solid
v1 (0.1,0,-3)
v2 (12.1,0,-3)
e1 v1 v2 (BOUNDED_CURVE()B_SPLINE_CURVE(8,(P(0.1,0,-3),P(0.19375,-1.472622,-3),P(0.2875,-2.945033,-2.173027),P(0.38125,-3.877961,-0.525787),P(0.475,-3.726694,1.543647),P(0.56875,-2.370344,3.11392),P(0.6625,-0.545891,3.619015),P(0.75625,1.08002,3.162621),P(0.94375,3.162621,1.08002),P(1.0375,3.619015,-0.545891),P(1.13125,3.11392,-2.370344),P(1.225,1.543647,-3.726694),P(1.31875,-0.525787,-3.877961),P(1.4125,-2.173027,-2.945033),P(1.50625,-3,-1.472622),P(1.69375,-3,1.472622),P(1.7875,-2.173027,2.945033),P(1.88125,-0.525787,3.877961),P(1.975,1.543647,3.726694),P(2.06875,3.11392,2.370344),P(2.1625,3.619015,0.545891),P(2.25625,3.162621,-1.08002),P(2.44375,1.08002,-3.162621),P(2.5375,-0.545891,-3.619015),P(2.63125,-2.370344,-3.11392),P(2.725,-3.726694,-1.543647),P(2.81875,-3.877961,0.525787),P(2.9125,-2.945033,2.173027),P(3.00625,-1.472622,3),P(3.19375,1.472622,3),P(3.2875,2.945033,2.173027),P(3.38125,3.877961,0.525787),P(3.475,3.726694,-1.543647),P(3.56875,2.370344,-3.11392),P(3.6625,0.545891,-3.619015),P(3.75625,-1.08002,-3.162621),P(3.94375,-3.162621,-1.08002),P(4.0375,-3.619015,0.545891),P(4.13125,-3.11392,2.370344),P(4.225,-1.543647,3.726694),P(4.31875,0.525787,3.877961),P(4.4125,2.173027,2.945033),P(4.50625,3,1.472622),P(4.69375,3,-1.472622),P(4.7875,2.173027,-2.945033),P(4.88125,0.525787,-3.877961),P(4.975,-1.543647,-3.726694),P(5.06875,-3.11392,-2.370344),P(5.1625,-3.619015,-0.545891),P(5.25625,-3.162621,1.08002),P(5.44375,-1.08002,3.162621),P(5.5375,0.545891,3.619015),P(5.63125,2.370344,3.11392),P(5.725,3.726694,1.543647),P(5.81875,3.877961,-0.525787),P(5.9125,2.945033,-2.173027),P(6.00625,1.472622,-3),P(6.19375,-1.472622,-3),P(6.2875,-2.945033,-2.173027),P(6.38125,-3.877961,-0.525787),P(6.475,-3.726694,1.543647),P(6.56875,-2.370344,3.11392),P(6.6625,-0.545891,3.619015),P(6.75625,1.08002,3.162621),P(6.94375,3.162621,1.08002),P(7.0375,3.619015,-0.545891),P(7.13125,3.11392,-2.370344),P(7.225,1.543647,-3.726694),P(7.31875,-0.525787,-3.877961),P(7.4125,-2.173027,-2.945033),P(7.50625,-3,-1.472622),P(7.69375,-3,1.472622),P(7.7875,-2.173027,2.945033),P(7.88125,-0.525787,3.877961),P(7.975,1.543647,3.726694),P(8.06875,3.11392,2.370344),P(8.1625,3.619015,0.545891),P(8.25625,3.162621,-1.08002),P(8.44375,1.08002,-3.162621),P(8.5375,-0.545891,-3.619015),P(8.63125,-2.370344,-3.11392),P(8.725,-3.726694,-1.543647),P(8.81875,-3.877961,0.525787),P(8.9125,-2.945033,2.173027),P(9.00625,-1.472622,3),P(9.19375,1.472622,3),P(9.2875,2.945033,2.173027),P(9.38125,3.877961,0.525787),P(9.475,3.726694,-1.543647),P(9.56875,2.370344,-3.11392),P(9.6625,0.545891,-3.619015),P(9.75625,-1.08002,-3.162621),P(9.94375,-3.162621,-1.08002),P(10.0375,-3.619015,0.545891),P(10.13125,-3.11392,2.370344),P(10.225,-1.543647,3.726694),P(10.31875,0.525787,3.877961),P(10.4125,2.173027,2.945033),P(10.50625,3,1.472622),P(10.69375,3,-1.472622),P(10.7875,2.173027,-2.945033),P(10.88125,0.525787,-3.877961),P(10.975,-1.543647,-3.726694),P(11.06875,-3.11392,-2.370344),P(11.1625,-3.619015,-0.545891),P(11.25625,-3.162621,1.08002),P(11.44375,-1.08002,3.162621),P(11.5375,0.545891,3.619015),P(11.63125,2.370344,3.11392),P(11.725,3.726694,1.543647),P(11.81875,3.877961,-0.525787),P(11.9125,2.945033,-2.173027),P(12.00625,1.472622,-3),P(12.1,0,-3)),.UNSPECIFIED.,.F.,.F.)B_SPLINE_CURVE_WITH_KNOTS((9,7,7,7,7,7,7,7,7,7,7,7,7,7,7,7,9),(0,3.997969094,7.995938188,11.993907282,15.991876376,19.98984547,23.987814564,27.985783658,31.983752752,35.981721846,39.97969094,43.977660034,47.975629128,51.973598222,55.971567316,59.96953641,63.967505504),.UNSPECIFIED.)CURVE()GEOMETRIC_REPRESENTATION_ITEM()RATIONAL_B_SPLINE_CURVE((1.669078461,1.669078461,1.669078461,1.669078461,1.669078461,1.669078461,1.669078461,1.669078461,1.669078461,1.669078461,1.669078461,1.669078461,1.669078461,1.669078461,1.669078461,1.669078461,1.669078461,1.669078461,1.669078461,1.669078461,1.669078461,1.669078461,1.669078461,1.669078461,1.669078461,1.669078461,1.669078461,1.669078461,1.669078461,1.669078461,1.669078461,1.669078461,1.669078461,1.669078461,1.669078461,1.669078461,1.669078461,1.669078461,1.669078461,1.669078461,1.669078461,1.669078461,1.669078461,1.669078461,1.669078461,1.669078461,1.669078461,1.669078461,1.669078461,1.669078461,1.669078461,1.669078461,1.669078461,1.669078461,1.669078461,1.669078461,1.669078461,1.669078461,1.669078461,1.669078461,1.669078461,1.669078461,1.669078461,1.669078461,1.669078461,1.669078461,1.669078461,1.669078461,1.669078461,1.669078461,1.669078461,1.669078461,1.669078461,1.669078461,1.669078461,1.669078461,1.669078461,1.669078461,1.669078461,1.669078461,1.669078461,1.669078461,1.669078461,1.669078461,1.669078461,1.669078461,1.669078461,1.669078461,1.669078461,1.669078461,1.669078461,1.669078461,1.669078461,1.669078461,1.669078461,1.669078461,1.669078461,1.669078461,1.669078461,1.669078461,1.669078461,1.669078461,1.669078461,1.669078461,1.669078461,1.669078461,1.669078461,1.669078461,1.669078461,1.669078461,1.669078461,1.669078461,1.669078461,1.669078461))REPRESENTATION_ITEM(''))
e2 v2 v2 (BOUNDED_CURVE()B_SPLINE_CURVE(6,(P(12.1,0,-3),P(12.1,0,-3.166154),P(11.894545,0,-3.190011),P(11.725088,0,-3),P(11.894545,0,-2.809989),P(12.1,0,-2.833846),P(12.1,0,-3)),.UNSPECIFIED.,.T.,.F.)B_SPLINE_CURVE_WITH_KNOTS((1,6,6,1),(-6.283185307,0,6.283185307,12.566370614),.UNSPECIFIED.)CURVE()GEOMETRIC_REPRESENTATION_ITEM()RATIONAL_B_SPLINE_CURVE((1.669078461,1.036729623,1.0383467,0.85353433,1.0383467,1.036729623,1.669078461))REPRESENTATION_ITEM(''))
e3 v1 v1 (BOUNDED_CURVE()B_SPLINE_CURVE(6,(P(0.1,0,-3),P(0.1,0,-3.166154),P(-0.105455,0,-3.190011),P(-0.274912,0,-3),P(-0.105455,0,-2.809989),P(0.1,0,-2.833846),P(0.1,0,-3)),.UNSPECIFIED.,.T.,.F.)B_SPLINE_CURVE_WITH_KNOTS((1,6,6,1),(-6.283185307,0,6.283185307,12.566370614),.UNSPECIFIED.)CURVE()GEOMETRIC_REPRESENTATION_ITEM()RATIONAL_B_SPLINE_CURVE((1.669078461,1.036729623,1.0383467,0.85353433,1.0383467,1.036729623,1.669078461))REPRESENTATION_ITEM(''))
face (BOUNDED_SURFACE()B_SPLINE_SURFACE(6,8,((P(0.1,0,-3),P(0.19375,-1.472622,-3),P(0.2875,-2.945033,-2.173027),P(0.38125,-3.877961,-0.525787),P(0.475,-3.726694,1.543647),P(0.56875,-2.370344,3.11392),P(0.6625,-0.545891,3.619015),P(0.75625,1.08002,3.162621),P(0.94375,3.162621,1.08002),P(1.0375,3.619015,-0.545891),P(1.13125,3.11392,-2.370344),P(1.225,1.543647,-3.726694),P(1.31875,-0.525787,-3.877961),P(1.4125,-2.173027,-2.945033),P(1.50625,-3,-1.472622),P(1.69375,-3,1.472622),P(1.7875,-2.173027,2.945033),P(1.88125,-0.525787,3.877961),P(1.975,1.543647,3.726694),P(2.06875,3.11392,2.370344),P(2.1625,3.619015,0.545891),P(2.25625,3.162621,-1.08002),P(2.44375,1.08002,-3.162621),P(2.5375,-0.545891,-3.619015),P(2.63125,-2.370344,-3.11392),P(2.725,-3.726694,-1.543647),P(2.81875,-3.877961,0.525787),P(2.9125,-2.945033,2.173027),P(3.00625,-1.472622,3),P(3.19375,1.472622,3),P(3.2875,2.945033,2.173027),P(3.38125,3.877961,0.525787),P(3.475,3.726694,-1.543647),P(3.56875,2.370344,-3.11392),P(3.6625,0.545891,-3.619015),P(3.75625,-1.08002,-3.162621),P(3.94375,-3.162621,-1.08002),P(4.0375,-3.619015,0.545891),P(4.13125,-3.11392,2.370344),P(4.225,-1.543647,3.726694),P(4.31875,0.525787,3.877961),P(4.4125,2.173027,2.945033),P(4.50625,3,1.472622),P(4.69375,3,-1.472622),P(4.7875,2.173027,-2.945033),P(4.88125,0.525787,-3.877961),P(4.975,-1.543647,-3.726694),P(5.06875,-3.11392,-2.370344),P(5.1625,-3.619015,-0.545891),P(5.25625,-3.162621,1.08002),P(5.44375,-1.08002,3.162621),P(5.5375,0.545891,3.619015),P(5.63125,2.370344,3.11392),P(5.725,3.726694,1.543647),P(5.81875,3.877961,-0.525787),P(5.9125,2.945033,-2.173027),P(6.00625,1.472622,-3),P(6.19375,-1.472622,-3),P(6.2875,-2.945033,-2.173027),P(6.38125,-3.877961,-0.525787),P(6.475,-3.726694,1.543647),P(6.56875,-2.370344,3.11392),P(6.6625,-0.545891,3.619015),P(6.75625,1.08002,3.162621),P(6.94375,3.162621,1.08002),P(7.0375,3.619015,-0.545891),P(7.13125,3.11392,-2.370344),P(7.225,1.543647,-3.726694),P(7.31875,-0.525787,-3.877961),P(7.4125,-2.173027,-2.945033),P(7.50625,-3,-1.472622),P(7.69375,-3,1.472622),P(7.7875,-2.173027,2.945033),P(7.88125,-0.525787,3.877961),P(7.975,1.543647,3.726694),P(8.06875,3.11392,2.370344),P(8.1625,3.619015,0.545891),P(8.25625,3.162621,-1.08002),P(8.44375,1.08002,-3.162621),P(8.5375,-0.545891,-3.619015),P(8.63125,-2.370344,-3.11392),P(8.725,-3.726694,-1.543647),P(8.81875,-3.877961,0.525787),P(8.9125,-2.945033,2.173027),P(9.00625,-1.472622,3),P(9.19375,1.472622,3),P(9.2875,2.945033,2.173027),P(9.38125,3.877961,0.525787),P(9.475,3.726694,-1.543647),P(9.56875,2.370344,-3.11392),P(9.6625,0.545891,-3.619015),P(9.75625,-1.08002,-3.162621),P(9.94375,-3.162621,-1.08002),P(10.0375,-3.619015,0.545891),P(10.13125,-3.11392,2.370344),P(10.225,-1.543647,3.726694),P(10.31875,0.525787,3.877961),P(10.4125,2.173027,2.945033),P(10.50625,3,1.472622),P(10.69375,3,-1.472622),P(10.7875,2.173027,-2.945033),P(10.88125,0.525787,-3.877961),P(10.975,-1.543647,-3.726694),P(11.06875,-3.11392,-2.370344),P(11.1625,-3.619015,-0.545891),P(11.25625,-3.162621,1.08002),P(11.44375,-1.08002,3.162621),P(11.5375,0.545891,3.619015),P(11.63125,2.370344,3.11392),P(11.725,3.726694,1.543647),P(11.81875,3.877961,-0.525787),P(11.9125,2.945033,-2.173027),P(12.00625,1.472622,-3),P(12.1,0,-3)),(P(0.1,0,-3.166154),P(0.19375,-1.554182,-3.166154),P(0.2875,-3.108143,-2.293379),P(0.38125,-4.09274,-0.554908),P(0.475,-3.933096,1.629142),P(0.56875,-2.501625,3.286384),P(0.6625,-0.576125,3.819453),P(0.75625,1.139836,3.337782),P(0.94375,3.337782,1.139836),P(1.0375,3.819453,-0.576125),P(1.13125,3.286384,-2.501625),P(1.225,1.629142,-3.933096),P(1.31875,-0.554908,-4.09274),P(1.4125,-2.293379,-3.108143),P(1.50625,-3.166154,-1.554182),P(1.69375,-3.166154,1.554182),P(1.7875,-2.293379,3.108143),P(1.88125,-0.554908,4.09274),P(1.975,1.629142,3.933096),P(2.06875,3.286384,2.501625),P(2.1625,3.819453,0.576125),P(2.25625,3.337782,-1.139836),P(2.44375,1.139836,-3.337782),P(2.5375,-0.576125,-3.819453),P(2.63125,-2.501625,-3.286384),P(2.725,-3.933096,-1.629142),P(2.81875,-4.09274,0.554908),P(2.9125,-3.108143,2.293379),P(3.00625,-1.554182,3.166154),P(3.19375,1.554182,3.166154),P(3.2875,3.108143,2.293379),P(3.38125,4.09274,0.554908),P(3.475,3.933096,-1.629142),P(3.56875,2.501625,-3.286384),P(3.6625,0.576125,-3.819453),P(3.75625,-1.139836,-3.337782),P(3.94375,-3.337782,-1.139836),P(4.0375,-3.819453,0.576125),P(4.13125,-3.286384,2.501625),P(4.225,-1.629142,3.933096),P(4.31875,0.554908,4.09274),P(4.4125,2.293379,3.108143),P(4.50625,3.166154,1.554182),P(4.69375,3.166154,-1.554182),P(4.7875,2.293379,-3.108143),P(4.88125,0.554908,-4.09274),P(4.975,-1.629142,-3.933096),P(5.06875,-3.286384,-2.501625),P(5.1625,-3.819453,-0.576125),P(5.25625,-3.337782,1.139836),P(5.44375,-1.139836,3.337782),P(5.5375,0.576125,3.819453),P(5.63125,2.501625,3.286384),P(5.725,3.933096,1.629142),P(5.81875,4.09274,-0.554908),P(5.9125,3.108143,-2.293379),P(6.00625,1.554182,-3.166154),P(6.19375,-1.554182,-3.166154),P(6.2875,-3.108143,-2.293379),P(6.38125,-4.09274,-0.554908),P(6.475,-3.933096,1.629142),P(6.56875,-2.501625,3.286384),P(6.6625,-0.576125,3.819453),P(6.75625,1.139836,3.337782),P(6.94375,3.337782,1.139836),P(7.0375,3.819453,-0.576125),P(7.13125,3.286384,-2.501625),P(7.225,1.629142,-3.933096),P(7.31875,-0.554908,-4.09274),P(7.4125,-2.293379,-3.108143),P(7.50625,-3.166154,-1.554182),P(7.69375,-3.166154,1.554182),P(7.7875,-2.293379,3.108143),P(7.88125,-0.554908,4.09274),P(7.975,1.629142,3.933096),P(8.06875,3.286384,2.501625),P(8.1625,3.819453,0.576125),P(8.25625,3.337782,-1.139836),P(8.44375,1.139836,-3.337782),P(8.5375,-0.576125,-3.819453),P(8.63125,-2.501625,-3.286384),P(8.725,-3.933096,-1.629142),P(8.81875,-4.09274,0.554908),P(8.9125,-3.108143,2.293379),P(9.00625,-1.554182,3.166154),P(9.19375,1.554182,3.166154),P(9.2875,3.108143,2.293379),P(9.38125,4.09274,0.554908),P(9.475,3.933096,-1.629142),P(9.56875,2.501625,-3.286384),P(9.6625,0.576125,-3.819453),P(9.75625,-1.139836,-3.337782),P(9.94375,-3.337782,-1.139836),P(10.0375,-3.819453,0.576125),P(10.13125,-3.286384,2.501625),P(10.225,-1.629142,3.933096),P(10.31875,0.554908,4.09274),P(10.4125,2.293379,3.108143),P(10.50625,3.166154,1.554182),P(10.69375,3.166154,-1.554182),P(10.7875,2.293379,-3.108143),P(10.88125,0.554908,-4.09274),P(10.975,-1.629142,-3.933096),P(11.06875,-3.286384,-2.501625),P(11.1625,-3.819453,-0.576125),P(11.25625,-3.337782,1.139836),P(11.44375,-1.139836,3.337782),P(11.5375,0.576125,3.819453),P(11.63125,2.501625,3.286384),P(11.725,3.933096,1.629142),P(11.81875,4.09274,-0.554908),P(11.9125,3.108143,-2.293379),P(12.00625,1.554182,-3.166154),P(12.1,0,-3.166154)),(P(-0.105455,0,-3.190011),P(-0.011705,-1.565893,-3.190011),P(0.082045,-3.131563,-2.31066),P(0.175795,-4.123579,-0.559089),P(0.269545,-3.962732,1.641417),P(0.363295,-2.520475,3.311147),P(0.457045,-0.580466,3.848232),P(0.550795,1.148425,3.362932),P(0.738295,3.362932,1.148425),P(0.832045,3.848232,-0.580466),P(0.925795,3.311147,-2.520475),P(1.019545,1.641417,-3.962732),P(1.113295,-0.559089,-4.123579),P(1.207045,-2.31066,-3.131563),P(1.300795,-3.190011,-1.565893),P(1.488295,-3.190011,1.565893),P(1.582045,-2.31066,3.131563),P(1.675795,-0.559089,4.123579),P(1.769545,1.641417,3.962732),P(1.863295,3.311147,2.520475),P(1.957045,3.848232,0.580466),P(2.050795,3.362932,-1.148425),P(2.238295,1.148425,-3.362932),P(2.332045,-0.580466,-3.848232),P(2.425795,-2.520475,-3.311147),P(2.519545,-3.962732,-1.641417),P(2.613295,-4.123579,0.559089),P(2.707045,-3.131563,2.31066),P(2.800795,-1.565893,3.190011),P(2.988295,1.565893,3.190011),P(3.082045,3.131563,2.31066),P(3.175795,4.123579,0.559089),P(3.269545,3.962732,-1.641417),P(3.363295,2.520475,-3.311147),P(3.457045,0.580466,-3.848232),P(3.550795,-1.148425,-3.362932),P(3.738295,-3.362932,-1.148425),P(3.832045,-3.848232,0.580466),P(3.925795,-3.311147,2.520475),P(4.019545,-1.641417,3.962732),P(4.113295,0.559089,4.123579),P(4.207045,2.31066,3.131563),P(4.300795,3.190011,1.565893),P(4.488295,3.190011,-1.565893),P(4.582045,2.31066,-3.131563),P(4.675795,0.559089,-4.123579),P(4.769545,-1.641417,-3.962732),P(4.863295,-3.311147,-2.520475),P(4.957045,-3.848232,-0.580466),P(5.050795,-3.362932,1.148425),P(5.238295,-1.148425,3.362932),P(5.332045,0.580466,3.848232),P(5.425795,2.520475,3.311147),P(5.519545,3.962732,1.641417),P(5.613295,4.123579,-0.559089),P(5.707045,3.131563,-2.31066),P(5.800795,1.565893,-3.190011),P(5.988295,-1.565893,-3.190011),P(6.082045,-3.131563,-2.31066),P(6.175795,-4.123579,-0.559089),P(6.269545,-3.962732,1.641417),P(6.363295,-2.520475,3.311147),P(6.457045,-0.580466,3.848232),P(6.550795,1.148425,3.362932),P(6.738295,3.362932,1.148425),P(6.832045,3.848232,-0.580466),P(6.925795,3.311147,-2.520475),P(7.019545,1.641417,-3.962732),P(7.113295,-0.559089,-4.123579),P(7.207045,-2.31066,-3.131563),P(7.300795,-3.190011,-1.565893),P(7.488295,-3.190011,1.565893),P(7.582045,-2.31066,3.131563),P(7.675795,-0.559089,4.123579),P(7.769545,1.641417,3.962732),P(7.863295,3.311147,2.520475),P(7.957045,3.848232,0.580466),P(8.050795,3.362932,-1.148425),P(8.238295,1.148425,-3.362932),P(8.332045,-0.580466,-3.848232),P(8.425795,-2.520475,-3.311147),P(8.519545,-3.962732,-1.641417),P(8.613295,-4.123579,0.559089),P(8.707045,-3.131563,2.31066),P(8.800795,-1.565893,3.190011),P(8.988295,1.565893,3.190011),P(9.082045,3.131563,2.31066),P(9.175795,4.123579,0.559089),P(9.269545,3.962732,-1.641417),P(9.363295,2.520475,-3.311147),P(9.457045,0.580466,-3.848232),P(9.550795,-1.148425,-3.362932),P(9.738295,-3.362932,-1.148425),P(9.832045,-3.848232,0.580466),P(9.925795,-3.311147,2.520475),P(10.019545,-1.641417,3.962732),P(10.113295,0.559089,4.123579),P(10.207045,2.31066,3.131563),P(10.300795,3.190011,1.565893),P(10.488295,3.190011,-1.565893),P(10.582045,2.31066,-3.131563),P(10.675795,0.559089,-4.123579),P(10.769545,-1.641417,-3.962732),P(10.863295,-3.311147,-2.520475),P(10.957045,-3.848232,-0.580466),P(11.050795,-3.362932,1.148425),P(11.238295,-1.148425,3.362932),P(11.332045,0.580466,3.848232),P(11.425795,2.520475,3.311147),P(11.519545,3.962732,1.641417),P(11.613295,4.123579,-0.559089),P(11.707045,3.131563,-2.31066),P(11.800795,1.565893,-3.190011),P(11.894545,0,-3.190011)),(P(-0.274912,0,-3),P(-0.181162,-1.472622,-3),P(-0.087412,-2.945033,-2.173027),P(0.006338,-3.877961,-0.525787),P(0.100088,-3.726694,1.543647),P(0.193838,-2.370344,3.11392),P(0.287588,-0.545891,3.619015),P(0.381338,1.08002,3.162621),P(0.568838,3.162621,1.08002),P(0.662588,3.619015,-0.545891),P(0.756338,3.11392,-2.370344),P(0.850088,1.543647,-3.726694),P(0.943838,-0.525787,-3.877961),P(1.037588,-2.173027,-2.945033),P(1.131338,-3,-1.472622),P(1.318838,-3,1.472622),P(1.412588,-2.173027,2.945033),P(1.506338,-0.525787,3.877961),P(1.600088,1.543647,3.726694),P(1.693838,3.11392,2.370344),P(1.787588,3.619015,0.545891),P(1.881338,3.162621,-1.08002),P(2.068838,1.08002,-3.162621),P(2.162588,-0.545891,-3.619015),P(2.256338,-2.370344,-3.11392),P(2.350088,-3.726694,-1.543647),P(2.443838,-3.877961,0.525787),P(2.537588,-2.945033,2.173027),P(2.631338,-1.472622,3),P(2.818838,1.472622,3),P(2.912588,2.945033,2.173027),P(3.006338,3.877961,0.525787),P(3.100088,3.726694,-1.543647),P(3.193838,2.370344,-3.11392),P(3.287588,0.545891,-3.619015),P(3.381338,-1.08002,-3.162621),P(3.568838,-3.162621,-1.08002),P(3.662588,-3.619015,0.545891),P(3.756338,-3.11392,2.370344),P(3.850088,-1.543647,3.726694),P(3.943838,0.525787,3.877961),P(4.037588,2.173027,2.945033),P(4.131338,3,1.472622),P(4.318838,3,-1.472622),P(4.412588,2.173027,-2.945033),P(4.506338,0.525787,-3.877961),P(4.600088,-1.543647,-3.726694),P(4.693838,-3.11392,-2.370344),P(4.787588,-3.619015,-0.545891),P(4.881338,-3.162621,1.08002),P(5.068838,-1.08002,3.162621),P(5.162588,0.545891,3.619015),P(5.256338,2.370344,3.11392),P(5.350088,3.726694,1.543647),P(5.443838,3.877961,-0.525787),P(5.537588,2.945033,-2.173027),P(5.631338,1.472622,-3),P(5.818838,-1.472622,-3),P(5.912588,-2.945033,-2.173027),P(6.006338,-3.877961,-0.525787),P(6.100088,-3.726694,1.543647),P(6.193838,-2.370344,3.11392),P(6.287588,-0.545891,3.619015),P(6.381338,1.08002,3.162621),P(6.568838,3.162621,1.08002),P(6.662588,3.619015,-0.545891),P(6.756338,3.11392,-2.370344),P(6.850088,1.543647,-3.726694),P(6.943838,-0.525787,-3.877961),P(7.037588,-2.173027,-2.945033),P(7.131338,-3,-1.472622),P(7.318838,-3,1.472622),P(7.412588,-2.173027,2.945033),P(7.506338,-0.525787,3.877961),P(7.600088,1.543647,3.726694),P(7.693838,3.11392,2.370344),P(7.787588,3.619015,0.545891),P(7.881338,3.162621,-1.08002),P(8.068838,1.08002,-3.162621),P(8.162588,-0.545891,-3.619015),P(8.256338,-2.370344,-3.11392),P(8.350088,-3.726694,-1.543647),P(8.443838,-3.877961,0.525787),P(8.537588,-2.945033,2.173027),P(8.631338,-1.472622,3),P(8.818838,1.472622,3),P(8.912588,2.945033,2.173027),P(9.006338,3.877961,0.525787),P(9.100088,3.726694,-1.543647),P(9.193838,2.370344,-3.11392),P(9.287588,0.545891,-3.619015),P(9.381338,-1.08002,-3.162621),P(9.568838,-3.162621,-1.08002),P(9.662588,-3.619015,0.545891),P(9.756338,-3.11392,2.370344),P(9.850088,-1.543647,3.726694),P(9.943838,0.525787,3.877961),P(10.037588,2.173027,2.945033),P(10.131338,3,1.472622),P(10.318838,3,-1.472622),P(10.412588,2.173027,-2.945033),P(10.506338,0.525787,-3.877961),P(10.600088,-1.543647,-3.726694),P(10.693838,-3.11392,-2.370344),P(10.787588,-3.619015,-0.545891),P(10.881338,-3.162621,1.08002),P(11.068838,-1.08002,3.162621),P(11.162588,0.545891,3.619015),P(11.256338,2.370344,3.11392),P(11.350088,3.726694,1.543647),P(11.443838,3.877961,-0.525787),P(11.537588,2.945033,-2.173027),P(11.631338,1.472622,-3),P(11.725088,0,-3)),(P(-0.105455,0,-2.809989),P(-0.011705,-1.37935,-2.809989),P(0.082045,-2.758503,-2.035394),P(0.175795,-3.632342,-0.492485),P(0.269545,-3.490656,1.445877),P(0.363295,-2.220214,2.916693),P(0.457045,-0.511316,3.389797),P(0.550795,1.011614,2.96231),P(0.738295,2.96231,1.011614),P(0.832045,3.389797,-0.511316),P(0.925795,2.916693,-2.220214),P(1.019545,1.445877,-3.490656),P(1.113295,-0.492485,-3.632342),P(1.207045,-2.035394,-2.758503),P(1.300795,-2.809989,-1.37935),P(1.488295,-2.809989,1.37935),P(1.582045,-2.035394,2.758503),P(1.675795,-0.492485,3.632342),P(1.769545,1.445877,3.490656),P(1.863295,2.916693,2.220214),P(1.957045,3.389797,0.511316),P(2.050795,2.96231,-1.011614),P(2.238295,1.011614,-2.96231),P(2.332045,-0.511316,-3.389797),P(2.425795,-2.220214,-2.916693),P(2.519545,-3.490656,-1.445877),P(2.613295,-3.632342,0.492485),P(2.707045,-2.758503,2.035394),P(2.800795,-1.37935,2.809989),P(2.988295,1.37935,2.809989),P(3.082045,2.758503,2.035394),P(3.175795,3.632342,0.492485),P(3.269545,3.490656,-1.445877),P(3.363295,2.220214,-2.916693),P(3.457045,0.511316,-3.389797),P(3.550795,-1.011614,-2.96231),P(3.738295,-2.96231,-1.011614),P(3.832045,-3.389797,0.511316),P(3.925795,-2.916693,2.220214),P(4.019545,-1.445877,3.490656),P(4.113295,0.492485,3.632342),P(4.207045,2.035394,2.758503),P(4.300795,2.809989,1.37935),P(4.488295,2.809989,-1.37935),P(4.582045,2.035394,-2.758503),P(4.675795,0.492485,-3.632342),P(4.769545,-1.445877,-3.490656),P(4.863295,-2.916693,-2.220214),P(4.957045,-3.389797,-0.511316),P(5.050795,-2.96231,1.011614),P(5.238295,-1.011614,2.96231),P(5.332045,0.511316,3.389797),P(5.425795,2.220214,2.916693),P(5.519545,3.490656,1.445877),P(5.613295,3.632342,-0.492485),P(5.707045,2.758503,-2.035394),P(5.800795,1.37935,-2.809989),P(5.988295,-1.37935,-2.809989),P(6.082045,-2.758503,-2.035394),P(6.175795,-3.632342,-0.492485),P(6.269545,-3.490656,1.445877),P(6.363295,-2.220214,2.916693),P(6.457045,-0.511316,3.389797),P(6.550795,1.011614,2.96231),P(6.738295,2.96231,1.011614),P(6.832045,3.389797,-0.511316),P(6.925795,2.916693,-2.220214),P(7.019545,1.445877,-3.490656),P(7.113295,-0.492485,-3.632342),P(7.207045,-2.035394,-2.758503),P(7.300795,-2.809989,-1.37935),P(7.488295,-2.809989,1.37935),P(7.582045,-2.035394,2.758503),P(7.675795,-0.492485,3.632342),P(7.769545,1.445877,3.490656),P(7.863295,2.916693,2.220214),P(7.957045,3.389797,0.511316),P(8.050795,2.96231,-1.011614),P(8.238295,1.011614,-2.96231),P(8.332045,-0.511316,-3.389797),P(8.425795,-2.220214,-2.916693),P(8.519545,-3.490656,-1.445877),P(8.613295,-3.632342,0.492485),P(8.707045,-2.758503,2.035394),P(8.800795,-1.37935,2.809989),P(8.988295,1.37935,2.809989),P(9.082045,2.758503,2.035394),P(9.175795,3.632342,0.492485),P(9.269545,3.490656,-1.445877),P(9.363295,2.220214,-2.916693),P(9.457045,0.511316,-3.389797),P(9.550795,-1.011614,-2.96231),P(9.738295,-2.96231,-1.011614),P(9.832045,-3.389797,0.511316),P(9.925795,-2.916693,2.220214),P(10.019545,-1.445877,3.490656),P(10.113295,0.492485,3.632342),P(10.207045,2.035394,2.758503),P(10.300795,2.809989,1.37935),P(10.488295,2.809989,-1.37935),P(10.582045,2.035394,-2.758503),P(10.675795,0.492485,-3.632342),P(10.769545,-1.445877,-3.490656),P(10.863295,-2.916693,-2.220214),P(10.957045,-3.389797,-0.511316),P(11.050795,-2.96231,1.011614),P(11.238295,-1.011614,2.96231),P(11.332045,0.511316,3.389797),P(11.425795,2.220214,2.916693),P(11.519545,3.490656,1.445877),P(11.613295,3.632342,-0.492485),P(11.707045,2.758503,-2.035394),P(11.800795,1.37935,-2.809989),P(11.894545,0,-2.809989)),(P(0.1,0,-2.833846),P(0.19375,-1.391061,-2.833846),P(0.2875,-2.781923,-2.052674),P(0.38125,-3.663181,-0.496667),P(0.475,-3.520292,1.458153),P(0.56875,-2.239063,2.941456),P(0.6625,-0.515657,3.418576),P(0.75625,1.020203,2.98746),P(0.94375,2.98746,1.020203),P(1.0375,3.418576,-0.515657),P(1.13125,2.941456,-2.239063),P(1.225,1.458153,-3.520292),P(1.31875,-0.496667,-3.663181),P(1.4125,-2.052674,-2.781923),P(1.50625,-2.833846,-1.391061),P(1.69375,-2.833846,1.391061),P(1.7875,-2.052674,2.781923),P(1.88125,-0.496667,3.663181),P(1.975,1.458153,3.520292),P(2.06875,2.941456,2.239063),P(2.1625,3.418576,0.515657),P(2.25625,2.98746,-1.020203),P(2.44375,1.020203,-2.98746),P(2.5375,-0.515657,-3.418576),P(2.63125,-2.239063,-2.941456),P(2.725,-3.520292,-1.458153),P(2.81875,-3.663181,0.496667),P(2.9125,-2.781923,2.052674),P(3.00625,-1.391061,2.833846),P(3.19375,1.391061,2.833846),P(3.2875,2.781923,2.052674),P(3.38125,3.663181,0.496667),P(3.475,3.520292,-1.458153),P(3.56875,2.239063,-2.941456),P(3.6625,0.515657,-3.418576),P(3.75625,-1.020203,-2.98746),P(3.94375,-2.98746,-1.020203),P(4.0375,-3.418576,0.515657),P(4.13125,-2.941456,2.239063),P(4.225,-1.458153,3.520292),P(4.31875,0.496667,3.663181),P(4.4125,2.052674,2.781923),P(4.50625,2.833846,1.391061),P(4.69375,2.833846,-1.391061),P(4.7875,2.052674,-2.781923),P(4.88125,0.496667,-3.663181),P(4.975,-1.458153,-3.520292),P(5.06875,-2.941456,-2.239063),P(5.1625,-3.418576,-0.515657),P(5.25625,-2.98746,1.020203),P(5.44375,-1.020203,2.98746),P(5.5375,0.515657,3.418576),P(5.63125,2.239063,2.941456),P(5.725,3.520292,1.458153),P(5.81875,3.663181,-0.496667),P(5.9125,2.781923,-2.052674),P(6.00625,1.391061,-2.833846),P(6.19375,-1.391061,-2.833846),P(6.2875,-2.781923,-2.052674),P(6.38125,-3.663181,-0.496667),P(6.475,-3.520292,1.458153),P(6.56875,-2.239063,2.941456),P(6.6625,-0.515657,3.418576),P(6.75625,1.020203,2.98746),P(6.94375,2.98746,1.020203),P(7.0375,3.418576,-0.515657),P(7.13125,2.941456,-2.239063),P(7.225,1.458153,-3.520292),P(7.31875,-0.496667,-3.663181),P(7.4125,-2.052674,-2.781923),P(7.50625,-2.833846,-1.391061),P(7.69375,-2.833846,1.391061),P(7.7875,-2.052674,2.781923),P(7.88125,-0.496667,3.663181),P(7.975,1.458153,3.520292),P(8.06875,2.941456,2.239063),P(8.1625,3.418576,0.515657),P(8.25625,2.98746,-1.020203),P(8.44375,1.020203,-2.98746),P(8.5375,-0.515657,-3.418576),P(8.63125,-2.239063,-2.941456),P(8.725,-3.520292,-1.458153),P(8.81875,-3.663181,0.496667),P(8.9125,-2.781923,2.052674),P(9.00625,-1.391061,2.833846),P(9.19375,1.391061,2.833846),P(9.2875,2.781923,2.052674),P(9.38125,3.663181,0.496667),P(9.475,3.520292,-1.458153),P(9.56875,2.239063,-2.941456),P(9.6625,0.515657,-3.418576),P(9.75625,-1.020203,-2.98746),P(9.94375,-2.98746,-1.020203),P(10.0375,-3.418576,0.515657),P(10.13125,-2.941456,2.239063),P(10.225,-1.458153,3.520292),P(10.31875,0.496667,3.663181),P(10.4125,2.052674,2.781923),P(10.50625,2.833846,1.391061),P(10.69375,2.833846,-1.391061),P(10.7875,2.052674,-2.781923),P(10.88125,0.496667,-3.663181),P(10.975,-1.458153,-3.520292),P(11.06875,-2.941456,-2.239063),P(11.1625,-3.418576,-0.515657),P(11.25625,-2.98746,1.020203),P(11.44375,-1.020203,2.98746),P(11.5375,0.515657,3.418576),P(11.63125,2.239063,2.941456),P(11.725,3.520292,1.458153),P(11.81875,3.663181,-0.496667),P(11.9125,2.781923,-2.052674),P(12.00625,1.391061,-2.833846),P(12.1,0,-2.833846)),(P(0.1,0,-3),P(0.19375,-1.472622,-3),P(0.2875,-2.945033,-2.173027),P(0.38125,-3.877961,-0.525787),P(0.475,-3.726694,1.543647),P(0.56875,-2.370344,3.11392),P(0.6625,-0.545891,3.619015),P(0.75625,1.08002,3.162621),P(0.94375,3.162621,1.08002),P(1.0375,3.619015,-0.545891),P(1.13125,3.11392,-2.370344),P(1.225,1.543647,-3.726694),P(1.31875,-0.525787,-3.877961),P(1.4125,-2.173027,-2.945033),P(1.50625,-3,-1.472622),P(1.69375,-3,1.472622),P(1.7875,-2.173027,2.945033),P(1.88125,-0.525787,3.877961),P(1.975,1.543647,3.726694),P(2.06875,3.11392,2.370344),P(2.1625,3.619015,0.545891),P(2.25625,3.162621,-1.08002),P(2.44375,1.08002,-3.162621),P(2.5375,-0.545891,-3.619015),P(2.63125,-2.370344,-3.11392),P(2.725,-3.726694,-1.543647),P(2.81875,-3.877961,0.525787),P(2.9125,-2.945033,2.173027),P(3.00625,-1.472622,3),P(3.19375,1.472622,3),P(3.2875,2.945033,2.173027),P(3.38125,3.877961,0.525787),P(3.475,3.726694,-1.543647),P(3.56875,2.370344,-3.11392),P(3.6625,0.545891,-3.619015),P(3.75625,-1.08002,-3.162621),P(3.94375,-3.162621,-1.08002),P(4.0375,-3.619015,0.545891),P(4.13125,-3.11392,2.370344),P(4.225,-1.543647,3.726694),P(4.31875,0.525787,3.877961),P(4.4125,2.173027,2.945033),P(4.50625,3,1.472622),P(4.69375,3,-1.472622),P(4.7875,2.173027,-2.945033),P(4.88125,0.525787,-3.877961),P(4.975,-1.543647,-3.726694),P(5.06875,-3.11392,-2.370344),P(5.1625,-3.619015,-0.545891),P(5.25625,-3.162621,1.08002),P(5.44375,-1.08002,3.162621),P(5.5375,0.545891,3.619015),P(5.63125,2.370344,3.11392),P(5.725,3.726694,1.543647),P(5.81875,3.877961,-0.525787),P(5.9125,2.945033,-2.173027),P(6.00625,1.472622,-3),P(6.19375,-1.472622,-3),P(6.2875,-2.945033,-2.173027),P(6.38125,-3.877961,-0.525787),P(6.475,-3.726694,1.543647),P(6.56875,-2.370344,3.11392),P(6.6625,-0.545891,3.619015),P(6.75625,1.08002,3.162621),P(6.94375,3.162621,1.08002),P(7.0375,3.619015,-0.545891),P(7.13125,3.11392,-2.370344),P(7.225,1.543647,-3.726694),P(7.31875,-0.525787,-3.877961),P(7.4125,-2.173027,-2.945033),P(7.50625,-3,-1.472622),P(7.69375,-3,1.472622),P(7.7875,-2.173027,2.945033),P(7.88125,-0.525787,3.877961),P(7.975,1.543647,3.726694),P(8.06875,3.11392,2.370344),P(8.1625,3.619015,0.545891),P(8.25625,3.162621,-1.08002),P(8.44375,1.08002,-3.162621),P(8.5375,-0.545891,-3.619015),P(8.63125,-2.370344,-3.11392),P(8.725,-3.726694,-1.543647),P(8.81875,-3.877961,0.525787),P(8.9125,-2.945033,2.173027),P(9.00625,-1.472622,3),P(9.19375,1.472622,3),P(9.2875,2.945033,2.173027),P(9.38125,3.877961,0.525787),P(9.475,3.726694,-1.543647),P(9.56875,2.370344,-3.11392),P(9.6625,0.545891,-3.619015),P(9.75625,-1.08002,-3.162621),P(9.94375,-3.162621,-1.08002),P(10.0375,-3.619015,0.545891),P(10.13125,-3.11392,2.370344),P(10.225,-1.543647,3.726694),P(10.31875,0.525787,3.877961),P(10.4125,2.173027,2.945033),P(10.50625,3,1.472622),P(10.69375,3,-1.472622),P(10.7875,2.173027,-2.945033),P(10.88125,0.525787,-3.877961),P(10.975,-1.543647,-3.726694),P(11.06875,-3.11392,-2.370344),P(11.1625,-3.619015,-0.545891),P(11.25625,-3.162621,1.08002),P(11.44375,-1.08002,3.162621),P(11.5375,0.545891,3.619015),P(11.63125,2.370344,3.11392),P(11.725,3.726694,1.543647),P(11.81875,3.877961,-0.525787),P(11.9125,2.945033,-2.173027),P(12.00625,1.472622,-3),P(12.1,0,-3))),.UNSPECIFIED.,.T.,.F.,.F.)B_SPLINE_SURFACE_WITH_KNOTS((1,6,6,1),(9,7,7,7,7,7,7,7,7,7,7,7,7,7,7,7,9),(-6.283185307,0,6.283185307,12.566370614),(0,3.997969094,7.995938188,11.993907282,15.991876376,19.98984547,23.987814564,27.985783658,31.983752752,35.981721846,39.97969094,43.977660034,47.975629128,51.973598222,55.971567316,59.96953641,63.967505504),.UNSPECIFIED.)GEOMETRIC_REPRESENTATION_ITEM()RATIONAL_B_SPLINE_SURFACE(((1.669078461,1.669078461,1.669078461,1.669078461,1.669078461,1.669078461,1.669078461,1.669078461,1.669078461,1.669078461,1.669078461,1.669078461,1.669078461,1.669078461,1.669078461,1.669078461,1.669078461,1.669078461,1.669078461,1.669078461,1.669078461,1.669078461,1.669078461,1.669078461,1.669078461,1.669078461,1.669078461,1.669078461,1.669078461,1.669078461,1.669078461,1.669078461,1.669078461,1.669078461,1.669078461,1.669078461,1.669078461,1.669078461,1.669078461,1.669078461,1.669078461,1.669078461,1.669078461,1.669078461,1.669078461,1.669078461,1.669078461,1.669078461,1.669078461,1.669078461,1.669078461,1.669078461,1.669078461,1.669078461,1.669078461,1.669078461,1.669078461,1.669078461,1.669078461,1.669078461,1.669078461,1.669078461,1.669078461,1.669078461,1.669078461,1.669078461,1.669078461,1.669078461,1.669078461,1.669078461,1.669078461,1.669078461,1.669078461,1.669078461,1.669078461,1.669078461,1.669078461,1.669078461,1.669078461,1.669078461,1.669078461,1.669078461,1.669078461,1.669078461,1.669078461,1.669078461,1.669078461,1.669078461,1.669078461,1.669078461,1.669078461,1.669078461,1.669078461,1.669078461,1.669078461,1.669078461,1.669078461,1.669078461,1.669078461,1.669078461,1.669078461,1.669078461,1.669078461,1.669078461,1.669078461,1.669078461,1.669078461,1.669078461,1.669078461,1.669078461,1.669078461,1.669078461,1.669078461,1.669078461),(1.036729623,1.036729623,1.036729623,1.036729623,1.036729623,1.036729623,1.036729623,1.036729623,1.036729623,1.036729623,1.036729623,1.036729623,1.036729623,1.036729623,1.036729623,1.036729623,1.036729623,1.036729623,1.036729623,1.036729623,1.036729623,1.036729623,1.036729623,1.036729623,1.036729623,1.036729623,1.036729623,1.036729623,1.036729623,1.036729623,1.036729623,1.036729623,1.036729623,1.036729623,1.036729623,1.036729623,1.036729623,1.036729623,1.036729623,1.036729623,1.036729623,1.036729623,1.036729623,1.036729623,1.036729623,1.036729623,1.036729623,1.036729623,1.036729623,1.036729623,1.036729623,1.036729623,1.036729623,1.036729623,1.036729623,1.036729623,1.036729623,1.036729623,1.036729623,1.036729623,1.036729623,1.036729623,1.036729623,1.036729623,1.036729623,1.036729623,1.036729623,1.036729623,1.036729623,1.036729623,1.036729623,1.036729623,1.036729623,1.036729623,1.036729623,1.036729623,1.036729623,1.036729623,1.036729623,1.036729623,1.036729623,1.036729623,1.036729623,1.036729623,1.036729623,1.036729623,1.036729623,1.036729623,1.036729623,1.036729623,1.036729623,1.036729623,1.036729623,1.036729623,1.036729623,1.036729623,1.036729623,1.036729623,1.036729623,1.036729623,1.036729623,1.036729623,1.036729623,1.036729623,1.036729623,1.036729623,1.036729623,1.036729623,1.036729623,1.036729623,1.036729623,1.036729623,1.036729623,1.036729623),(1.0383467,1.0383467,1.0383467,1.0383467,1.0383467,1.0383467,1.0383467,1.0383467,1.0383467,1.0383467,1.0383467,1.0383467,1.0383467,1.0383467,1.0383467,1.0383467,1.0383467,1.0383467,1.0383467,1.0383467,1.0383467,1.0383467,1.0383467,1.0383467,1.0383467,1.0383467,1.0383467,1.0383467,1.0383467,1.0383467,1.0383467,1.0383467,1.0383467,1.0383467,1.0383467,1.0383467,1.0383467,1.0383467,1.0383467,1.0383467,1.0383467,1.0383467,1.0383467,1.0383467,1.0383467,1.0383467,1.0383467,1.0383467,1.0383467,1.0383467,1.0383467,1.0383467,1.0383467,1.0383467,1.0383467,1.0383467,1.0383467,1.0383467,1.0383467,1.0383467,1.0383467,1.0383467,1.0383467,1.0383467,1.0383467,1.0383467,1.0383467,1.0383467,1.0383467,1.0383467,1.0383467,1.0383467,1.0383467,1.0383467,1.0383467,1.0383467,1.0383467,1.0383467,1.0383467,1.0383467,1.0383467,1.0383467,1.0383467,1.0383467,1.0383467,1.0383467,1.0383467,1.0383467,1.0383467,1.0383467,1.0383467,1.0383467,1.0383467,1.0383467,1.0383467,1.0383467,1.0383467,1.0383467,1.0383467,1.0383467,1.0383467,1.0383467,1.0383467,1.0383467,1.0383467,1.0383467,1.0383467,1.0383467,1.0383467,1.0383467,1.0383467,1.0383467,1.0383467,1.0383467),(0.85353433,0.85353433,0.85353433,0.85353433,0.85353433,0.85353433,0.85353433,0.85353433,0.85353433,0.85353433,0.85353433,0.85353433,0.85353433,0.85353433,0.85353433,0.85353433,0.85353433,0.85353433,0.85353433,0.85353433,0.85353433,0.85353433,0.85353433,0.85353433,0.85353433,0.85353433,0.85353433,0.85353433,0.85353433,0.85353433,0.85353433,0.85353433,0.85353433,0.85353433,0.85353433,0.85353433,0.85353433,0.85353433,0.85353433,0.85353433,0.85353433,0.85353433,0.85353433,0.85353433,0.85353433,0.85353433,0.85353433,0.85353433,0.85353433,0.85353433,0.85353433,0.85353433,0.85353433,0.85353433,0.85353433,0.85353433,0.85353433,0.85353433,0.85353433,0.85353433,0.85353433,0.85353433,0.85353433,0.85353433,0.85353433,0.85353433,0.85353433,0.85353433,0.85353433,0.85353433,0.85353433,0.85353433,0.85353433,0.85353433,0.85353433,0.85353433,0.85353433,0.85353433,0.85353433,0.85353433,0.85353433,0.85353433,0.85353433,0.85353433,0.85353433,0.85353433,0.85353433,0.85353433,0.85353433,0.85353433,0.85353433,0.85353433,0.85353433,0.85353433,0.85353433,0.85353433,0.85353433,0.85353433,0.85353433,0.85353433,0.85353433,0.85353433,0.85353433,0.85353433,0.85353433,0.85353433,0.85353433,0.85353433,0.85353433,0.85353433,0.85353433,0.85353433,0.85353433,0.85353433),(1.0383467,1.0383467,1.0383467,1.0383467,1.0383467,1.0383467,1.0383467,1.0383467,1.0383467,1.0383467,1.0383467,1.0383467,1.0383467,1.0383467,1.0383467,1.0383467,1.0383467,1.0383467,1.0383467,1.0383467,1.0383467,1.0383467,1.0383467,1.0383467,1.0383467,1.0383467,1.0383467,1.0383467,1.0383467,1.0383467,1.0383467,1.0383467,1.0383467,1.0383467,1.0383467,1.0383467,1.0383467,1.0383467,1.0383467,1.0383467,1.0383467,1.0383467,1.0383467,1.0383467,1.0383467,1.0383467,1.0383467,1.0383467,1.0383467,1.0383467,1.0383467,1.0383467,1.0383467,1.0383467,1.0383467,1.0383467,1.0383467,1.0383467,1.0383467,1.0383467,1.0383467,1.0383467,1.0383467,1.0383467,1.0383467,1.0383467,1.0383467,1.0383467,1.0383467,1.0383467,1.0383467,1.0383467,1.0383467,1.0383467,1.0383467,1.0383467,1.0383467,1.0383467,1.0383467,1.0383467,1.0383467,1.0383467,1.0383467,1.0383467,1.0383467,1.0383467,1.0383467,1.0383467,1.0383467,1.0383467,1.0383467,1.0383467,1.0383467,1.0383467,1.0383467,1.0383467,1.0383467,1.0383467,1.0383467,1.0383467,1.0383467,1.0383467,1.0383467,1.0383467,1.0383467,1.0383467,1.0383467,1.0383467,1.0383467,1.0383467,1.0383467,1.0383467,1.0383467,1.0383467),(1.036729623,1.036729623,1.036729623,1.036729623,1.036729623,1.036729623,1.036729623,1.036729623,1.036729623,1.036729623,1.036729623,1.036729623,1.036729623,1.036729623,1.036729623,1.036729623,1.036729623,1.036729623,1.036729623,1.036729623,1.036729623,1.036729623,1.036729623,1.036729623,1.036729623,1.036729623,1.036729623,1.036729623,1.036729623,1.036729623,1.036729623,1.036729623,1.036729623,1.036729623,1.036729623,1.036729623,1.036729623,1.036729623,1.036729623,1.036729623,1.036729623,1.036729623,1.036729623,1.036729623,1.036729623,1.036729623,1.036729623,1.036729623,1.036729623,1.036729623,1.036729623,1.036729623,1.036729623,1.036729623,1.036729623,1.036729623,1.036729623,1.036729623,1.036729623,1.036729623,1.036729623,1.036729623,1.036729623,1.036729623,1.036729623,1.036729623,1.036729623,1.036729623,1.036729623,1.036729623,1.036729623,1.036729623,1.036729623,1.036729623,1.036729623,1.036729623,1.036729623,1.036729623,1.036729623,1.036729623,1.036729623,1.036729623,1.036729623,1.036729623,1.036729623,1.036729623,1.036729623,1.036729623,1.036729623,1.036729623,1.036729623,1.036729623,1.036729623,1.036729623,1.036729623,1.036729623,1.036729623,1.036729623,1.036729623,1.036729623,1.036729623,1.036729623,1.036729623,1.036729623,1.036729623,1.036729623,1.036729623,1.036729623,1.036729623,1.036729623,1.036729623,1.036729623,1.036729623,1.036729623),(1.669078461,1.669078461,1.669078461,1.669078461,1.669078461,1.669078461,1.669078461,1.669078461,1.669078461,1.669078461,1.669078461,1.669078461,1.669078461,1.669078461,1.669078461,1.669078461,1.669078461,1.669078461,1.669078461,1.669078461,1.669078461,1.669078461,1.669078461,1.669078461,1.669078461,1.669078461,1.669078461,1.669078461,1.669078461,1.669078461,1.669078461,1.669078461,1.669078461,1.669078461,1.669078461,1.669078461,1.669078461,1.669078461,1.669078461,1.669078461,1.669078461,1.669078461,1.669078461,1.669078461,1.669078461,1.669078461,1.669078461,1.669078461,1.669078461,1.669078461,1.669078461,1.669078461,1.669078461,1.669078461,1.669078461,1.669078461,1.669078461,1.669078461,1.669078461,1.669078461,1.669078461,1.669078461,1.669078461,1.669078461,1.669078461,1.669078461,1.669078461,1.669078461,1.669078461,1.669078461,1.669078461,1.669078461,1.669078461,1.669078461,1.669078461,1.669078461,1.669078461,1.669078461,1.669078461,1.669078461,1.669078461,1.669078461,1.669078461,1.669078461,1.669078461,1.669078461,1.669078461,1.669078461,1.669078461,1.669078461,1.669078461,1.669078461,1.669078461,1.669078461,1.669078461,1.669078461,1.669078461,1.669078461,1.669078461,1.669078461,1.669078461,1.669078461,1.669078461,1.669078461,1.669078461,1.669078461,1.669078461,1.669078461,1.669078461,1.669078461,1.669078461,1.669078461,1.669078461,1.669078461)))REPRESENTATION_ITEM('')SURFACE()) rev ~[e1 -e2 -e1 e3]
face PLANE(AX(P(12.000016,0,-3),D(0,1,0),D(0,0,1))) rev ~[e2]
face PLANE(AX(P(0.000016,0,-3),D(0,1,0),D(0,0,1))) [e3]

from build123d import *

# Parameters (mm, degrees)
SWEEP1_PITCH       = 1.2
SWEEP1_HEIGHT      = 12
SWEEP1_RADIUS      = 3
SWEEP1_START_ANGLE = -180
SKETCH4_R          = 0.1


with BuildPart() as part:
    # Sweep1: sweep along a helix
    with BuildLine() as sweep1_path:
        add(Helix(SWEEP1_PITCH, SWEEP1_HEIGHT, SWEEP1_RADIUS, center=(0, 0, 0), direction=(1, 0, 0), lefthand=True, mode=Mode.PRIVATE).rotate(Axis((0, 0, 0), (1, 0, 0)), SWEEP1_START_ANGLE))
    # Sketch4 → Sweep1 (sweep)
    with BuildSketch(Plane(origin=(0, 0, 0), x_dir=(1, 0, 0), z_dir=(0, 1, 0))):
        with Locations((0, 3)):
            Circle(SKETCH4_R)
    sweep(path=sweep1_path.line, is_frenet=True)


solid = part.part
